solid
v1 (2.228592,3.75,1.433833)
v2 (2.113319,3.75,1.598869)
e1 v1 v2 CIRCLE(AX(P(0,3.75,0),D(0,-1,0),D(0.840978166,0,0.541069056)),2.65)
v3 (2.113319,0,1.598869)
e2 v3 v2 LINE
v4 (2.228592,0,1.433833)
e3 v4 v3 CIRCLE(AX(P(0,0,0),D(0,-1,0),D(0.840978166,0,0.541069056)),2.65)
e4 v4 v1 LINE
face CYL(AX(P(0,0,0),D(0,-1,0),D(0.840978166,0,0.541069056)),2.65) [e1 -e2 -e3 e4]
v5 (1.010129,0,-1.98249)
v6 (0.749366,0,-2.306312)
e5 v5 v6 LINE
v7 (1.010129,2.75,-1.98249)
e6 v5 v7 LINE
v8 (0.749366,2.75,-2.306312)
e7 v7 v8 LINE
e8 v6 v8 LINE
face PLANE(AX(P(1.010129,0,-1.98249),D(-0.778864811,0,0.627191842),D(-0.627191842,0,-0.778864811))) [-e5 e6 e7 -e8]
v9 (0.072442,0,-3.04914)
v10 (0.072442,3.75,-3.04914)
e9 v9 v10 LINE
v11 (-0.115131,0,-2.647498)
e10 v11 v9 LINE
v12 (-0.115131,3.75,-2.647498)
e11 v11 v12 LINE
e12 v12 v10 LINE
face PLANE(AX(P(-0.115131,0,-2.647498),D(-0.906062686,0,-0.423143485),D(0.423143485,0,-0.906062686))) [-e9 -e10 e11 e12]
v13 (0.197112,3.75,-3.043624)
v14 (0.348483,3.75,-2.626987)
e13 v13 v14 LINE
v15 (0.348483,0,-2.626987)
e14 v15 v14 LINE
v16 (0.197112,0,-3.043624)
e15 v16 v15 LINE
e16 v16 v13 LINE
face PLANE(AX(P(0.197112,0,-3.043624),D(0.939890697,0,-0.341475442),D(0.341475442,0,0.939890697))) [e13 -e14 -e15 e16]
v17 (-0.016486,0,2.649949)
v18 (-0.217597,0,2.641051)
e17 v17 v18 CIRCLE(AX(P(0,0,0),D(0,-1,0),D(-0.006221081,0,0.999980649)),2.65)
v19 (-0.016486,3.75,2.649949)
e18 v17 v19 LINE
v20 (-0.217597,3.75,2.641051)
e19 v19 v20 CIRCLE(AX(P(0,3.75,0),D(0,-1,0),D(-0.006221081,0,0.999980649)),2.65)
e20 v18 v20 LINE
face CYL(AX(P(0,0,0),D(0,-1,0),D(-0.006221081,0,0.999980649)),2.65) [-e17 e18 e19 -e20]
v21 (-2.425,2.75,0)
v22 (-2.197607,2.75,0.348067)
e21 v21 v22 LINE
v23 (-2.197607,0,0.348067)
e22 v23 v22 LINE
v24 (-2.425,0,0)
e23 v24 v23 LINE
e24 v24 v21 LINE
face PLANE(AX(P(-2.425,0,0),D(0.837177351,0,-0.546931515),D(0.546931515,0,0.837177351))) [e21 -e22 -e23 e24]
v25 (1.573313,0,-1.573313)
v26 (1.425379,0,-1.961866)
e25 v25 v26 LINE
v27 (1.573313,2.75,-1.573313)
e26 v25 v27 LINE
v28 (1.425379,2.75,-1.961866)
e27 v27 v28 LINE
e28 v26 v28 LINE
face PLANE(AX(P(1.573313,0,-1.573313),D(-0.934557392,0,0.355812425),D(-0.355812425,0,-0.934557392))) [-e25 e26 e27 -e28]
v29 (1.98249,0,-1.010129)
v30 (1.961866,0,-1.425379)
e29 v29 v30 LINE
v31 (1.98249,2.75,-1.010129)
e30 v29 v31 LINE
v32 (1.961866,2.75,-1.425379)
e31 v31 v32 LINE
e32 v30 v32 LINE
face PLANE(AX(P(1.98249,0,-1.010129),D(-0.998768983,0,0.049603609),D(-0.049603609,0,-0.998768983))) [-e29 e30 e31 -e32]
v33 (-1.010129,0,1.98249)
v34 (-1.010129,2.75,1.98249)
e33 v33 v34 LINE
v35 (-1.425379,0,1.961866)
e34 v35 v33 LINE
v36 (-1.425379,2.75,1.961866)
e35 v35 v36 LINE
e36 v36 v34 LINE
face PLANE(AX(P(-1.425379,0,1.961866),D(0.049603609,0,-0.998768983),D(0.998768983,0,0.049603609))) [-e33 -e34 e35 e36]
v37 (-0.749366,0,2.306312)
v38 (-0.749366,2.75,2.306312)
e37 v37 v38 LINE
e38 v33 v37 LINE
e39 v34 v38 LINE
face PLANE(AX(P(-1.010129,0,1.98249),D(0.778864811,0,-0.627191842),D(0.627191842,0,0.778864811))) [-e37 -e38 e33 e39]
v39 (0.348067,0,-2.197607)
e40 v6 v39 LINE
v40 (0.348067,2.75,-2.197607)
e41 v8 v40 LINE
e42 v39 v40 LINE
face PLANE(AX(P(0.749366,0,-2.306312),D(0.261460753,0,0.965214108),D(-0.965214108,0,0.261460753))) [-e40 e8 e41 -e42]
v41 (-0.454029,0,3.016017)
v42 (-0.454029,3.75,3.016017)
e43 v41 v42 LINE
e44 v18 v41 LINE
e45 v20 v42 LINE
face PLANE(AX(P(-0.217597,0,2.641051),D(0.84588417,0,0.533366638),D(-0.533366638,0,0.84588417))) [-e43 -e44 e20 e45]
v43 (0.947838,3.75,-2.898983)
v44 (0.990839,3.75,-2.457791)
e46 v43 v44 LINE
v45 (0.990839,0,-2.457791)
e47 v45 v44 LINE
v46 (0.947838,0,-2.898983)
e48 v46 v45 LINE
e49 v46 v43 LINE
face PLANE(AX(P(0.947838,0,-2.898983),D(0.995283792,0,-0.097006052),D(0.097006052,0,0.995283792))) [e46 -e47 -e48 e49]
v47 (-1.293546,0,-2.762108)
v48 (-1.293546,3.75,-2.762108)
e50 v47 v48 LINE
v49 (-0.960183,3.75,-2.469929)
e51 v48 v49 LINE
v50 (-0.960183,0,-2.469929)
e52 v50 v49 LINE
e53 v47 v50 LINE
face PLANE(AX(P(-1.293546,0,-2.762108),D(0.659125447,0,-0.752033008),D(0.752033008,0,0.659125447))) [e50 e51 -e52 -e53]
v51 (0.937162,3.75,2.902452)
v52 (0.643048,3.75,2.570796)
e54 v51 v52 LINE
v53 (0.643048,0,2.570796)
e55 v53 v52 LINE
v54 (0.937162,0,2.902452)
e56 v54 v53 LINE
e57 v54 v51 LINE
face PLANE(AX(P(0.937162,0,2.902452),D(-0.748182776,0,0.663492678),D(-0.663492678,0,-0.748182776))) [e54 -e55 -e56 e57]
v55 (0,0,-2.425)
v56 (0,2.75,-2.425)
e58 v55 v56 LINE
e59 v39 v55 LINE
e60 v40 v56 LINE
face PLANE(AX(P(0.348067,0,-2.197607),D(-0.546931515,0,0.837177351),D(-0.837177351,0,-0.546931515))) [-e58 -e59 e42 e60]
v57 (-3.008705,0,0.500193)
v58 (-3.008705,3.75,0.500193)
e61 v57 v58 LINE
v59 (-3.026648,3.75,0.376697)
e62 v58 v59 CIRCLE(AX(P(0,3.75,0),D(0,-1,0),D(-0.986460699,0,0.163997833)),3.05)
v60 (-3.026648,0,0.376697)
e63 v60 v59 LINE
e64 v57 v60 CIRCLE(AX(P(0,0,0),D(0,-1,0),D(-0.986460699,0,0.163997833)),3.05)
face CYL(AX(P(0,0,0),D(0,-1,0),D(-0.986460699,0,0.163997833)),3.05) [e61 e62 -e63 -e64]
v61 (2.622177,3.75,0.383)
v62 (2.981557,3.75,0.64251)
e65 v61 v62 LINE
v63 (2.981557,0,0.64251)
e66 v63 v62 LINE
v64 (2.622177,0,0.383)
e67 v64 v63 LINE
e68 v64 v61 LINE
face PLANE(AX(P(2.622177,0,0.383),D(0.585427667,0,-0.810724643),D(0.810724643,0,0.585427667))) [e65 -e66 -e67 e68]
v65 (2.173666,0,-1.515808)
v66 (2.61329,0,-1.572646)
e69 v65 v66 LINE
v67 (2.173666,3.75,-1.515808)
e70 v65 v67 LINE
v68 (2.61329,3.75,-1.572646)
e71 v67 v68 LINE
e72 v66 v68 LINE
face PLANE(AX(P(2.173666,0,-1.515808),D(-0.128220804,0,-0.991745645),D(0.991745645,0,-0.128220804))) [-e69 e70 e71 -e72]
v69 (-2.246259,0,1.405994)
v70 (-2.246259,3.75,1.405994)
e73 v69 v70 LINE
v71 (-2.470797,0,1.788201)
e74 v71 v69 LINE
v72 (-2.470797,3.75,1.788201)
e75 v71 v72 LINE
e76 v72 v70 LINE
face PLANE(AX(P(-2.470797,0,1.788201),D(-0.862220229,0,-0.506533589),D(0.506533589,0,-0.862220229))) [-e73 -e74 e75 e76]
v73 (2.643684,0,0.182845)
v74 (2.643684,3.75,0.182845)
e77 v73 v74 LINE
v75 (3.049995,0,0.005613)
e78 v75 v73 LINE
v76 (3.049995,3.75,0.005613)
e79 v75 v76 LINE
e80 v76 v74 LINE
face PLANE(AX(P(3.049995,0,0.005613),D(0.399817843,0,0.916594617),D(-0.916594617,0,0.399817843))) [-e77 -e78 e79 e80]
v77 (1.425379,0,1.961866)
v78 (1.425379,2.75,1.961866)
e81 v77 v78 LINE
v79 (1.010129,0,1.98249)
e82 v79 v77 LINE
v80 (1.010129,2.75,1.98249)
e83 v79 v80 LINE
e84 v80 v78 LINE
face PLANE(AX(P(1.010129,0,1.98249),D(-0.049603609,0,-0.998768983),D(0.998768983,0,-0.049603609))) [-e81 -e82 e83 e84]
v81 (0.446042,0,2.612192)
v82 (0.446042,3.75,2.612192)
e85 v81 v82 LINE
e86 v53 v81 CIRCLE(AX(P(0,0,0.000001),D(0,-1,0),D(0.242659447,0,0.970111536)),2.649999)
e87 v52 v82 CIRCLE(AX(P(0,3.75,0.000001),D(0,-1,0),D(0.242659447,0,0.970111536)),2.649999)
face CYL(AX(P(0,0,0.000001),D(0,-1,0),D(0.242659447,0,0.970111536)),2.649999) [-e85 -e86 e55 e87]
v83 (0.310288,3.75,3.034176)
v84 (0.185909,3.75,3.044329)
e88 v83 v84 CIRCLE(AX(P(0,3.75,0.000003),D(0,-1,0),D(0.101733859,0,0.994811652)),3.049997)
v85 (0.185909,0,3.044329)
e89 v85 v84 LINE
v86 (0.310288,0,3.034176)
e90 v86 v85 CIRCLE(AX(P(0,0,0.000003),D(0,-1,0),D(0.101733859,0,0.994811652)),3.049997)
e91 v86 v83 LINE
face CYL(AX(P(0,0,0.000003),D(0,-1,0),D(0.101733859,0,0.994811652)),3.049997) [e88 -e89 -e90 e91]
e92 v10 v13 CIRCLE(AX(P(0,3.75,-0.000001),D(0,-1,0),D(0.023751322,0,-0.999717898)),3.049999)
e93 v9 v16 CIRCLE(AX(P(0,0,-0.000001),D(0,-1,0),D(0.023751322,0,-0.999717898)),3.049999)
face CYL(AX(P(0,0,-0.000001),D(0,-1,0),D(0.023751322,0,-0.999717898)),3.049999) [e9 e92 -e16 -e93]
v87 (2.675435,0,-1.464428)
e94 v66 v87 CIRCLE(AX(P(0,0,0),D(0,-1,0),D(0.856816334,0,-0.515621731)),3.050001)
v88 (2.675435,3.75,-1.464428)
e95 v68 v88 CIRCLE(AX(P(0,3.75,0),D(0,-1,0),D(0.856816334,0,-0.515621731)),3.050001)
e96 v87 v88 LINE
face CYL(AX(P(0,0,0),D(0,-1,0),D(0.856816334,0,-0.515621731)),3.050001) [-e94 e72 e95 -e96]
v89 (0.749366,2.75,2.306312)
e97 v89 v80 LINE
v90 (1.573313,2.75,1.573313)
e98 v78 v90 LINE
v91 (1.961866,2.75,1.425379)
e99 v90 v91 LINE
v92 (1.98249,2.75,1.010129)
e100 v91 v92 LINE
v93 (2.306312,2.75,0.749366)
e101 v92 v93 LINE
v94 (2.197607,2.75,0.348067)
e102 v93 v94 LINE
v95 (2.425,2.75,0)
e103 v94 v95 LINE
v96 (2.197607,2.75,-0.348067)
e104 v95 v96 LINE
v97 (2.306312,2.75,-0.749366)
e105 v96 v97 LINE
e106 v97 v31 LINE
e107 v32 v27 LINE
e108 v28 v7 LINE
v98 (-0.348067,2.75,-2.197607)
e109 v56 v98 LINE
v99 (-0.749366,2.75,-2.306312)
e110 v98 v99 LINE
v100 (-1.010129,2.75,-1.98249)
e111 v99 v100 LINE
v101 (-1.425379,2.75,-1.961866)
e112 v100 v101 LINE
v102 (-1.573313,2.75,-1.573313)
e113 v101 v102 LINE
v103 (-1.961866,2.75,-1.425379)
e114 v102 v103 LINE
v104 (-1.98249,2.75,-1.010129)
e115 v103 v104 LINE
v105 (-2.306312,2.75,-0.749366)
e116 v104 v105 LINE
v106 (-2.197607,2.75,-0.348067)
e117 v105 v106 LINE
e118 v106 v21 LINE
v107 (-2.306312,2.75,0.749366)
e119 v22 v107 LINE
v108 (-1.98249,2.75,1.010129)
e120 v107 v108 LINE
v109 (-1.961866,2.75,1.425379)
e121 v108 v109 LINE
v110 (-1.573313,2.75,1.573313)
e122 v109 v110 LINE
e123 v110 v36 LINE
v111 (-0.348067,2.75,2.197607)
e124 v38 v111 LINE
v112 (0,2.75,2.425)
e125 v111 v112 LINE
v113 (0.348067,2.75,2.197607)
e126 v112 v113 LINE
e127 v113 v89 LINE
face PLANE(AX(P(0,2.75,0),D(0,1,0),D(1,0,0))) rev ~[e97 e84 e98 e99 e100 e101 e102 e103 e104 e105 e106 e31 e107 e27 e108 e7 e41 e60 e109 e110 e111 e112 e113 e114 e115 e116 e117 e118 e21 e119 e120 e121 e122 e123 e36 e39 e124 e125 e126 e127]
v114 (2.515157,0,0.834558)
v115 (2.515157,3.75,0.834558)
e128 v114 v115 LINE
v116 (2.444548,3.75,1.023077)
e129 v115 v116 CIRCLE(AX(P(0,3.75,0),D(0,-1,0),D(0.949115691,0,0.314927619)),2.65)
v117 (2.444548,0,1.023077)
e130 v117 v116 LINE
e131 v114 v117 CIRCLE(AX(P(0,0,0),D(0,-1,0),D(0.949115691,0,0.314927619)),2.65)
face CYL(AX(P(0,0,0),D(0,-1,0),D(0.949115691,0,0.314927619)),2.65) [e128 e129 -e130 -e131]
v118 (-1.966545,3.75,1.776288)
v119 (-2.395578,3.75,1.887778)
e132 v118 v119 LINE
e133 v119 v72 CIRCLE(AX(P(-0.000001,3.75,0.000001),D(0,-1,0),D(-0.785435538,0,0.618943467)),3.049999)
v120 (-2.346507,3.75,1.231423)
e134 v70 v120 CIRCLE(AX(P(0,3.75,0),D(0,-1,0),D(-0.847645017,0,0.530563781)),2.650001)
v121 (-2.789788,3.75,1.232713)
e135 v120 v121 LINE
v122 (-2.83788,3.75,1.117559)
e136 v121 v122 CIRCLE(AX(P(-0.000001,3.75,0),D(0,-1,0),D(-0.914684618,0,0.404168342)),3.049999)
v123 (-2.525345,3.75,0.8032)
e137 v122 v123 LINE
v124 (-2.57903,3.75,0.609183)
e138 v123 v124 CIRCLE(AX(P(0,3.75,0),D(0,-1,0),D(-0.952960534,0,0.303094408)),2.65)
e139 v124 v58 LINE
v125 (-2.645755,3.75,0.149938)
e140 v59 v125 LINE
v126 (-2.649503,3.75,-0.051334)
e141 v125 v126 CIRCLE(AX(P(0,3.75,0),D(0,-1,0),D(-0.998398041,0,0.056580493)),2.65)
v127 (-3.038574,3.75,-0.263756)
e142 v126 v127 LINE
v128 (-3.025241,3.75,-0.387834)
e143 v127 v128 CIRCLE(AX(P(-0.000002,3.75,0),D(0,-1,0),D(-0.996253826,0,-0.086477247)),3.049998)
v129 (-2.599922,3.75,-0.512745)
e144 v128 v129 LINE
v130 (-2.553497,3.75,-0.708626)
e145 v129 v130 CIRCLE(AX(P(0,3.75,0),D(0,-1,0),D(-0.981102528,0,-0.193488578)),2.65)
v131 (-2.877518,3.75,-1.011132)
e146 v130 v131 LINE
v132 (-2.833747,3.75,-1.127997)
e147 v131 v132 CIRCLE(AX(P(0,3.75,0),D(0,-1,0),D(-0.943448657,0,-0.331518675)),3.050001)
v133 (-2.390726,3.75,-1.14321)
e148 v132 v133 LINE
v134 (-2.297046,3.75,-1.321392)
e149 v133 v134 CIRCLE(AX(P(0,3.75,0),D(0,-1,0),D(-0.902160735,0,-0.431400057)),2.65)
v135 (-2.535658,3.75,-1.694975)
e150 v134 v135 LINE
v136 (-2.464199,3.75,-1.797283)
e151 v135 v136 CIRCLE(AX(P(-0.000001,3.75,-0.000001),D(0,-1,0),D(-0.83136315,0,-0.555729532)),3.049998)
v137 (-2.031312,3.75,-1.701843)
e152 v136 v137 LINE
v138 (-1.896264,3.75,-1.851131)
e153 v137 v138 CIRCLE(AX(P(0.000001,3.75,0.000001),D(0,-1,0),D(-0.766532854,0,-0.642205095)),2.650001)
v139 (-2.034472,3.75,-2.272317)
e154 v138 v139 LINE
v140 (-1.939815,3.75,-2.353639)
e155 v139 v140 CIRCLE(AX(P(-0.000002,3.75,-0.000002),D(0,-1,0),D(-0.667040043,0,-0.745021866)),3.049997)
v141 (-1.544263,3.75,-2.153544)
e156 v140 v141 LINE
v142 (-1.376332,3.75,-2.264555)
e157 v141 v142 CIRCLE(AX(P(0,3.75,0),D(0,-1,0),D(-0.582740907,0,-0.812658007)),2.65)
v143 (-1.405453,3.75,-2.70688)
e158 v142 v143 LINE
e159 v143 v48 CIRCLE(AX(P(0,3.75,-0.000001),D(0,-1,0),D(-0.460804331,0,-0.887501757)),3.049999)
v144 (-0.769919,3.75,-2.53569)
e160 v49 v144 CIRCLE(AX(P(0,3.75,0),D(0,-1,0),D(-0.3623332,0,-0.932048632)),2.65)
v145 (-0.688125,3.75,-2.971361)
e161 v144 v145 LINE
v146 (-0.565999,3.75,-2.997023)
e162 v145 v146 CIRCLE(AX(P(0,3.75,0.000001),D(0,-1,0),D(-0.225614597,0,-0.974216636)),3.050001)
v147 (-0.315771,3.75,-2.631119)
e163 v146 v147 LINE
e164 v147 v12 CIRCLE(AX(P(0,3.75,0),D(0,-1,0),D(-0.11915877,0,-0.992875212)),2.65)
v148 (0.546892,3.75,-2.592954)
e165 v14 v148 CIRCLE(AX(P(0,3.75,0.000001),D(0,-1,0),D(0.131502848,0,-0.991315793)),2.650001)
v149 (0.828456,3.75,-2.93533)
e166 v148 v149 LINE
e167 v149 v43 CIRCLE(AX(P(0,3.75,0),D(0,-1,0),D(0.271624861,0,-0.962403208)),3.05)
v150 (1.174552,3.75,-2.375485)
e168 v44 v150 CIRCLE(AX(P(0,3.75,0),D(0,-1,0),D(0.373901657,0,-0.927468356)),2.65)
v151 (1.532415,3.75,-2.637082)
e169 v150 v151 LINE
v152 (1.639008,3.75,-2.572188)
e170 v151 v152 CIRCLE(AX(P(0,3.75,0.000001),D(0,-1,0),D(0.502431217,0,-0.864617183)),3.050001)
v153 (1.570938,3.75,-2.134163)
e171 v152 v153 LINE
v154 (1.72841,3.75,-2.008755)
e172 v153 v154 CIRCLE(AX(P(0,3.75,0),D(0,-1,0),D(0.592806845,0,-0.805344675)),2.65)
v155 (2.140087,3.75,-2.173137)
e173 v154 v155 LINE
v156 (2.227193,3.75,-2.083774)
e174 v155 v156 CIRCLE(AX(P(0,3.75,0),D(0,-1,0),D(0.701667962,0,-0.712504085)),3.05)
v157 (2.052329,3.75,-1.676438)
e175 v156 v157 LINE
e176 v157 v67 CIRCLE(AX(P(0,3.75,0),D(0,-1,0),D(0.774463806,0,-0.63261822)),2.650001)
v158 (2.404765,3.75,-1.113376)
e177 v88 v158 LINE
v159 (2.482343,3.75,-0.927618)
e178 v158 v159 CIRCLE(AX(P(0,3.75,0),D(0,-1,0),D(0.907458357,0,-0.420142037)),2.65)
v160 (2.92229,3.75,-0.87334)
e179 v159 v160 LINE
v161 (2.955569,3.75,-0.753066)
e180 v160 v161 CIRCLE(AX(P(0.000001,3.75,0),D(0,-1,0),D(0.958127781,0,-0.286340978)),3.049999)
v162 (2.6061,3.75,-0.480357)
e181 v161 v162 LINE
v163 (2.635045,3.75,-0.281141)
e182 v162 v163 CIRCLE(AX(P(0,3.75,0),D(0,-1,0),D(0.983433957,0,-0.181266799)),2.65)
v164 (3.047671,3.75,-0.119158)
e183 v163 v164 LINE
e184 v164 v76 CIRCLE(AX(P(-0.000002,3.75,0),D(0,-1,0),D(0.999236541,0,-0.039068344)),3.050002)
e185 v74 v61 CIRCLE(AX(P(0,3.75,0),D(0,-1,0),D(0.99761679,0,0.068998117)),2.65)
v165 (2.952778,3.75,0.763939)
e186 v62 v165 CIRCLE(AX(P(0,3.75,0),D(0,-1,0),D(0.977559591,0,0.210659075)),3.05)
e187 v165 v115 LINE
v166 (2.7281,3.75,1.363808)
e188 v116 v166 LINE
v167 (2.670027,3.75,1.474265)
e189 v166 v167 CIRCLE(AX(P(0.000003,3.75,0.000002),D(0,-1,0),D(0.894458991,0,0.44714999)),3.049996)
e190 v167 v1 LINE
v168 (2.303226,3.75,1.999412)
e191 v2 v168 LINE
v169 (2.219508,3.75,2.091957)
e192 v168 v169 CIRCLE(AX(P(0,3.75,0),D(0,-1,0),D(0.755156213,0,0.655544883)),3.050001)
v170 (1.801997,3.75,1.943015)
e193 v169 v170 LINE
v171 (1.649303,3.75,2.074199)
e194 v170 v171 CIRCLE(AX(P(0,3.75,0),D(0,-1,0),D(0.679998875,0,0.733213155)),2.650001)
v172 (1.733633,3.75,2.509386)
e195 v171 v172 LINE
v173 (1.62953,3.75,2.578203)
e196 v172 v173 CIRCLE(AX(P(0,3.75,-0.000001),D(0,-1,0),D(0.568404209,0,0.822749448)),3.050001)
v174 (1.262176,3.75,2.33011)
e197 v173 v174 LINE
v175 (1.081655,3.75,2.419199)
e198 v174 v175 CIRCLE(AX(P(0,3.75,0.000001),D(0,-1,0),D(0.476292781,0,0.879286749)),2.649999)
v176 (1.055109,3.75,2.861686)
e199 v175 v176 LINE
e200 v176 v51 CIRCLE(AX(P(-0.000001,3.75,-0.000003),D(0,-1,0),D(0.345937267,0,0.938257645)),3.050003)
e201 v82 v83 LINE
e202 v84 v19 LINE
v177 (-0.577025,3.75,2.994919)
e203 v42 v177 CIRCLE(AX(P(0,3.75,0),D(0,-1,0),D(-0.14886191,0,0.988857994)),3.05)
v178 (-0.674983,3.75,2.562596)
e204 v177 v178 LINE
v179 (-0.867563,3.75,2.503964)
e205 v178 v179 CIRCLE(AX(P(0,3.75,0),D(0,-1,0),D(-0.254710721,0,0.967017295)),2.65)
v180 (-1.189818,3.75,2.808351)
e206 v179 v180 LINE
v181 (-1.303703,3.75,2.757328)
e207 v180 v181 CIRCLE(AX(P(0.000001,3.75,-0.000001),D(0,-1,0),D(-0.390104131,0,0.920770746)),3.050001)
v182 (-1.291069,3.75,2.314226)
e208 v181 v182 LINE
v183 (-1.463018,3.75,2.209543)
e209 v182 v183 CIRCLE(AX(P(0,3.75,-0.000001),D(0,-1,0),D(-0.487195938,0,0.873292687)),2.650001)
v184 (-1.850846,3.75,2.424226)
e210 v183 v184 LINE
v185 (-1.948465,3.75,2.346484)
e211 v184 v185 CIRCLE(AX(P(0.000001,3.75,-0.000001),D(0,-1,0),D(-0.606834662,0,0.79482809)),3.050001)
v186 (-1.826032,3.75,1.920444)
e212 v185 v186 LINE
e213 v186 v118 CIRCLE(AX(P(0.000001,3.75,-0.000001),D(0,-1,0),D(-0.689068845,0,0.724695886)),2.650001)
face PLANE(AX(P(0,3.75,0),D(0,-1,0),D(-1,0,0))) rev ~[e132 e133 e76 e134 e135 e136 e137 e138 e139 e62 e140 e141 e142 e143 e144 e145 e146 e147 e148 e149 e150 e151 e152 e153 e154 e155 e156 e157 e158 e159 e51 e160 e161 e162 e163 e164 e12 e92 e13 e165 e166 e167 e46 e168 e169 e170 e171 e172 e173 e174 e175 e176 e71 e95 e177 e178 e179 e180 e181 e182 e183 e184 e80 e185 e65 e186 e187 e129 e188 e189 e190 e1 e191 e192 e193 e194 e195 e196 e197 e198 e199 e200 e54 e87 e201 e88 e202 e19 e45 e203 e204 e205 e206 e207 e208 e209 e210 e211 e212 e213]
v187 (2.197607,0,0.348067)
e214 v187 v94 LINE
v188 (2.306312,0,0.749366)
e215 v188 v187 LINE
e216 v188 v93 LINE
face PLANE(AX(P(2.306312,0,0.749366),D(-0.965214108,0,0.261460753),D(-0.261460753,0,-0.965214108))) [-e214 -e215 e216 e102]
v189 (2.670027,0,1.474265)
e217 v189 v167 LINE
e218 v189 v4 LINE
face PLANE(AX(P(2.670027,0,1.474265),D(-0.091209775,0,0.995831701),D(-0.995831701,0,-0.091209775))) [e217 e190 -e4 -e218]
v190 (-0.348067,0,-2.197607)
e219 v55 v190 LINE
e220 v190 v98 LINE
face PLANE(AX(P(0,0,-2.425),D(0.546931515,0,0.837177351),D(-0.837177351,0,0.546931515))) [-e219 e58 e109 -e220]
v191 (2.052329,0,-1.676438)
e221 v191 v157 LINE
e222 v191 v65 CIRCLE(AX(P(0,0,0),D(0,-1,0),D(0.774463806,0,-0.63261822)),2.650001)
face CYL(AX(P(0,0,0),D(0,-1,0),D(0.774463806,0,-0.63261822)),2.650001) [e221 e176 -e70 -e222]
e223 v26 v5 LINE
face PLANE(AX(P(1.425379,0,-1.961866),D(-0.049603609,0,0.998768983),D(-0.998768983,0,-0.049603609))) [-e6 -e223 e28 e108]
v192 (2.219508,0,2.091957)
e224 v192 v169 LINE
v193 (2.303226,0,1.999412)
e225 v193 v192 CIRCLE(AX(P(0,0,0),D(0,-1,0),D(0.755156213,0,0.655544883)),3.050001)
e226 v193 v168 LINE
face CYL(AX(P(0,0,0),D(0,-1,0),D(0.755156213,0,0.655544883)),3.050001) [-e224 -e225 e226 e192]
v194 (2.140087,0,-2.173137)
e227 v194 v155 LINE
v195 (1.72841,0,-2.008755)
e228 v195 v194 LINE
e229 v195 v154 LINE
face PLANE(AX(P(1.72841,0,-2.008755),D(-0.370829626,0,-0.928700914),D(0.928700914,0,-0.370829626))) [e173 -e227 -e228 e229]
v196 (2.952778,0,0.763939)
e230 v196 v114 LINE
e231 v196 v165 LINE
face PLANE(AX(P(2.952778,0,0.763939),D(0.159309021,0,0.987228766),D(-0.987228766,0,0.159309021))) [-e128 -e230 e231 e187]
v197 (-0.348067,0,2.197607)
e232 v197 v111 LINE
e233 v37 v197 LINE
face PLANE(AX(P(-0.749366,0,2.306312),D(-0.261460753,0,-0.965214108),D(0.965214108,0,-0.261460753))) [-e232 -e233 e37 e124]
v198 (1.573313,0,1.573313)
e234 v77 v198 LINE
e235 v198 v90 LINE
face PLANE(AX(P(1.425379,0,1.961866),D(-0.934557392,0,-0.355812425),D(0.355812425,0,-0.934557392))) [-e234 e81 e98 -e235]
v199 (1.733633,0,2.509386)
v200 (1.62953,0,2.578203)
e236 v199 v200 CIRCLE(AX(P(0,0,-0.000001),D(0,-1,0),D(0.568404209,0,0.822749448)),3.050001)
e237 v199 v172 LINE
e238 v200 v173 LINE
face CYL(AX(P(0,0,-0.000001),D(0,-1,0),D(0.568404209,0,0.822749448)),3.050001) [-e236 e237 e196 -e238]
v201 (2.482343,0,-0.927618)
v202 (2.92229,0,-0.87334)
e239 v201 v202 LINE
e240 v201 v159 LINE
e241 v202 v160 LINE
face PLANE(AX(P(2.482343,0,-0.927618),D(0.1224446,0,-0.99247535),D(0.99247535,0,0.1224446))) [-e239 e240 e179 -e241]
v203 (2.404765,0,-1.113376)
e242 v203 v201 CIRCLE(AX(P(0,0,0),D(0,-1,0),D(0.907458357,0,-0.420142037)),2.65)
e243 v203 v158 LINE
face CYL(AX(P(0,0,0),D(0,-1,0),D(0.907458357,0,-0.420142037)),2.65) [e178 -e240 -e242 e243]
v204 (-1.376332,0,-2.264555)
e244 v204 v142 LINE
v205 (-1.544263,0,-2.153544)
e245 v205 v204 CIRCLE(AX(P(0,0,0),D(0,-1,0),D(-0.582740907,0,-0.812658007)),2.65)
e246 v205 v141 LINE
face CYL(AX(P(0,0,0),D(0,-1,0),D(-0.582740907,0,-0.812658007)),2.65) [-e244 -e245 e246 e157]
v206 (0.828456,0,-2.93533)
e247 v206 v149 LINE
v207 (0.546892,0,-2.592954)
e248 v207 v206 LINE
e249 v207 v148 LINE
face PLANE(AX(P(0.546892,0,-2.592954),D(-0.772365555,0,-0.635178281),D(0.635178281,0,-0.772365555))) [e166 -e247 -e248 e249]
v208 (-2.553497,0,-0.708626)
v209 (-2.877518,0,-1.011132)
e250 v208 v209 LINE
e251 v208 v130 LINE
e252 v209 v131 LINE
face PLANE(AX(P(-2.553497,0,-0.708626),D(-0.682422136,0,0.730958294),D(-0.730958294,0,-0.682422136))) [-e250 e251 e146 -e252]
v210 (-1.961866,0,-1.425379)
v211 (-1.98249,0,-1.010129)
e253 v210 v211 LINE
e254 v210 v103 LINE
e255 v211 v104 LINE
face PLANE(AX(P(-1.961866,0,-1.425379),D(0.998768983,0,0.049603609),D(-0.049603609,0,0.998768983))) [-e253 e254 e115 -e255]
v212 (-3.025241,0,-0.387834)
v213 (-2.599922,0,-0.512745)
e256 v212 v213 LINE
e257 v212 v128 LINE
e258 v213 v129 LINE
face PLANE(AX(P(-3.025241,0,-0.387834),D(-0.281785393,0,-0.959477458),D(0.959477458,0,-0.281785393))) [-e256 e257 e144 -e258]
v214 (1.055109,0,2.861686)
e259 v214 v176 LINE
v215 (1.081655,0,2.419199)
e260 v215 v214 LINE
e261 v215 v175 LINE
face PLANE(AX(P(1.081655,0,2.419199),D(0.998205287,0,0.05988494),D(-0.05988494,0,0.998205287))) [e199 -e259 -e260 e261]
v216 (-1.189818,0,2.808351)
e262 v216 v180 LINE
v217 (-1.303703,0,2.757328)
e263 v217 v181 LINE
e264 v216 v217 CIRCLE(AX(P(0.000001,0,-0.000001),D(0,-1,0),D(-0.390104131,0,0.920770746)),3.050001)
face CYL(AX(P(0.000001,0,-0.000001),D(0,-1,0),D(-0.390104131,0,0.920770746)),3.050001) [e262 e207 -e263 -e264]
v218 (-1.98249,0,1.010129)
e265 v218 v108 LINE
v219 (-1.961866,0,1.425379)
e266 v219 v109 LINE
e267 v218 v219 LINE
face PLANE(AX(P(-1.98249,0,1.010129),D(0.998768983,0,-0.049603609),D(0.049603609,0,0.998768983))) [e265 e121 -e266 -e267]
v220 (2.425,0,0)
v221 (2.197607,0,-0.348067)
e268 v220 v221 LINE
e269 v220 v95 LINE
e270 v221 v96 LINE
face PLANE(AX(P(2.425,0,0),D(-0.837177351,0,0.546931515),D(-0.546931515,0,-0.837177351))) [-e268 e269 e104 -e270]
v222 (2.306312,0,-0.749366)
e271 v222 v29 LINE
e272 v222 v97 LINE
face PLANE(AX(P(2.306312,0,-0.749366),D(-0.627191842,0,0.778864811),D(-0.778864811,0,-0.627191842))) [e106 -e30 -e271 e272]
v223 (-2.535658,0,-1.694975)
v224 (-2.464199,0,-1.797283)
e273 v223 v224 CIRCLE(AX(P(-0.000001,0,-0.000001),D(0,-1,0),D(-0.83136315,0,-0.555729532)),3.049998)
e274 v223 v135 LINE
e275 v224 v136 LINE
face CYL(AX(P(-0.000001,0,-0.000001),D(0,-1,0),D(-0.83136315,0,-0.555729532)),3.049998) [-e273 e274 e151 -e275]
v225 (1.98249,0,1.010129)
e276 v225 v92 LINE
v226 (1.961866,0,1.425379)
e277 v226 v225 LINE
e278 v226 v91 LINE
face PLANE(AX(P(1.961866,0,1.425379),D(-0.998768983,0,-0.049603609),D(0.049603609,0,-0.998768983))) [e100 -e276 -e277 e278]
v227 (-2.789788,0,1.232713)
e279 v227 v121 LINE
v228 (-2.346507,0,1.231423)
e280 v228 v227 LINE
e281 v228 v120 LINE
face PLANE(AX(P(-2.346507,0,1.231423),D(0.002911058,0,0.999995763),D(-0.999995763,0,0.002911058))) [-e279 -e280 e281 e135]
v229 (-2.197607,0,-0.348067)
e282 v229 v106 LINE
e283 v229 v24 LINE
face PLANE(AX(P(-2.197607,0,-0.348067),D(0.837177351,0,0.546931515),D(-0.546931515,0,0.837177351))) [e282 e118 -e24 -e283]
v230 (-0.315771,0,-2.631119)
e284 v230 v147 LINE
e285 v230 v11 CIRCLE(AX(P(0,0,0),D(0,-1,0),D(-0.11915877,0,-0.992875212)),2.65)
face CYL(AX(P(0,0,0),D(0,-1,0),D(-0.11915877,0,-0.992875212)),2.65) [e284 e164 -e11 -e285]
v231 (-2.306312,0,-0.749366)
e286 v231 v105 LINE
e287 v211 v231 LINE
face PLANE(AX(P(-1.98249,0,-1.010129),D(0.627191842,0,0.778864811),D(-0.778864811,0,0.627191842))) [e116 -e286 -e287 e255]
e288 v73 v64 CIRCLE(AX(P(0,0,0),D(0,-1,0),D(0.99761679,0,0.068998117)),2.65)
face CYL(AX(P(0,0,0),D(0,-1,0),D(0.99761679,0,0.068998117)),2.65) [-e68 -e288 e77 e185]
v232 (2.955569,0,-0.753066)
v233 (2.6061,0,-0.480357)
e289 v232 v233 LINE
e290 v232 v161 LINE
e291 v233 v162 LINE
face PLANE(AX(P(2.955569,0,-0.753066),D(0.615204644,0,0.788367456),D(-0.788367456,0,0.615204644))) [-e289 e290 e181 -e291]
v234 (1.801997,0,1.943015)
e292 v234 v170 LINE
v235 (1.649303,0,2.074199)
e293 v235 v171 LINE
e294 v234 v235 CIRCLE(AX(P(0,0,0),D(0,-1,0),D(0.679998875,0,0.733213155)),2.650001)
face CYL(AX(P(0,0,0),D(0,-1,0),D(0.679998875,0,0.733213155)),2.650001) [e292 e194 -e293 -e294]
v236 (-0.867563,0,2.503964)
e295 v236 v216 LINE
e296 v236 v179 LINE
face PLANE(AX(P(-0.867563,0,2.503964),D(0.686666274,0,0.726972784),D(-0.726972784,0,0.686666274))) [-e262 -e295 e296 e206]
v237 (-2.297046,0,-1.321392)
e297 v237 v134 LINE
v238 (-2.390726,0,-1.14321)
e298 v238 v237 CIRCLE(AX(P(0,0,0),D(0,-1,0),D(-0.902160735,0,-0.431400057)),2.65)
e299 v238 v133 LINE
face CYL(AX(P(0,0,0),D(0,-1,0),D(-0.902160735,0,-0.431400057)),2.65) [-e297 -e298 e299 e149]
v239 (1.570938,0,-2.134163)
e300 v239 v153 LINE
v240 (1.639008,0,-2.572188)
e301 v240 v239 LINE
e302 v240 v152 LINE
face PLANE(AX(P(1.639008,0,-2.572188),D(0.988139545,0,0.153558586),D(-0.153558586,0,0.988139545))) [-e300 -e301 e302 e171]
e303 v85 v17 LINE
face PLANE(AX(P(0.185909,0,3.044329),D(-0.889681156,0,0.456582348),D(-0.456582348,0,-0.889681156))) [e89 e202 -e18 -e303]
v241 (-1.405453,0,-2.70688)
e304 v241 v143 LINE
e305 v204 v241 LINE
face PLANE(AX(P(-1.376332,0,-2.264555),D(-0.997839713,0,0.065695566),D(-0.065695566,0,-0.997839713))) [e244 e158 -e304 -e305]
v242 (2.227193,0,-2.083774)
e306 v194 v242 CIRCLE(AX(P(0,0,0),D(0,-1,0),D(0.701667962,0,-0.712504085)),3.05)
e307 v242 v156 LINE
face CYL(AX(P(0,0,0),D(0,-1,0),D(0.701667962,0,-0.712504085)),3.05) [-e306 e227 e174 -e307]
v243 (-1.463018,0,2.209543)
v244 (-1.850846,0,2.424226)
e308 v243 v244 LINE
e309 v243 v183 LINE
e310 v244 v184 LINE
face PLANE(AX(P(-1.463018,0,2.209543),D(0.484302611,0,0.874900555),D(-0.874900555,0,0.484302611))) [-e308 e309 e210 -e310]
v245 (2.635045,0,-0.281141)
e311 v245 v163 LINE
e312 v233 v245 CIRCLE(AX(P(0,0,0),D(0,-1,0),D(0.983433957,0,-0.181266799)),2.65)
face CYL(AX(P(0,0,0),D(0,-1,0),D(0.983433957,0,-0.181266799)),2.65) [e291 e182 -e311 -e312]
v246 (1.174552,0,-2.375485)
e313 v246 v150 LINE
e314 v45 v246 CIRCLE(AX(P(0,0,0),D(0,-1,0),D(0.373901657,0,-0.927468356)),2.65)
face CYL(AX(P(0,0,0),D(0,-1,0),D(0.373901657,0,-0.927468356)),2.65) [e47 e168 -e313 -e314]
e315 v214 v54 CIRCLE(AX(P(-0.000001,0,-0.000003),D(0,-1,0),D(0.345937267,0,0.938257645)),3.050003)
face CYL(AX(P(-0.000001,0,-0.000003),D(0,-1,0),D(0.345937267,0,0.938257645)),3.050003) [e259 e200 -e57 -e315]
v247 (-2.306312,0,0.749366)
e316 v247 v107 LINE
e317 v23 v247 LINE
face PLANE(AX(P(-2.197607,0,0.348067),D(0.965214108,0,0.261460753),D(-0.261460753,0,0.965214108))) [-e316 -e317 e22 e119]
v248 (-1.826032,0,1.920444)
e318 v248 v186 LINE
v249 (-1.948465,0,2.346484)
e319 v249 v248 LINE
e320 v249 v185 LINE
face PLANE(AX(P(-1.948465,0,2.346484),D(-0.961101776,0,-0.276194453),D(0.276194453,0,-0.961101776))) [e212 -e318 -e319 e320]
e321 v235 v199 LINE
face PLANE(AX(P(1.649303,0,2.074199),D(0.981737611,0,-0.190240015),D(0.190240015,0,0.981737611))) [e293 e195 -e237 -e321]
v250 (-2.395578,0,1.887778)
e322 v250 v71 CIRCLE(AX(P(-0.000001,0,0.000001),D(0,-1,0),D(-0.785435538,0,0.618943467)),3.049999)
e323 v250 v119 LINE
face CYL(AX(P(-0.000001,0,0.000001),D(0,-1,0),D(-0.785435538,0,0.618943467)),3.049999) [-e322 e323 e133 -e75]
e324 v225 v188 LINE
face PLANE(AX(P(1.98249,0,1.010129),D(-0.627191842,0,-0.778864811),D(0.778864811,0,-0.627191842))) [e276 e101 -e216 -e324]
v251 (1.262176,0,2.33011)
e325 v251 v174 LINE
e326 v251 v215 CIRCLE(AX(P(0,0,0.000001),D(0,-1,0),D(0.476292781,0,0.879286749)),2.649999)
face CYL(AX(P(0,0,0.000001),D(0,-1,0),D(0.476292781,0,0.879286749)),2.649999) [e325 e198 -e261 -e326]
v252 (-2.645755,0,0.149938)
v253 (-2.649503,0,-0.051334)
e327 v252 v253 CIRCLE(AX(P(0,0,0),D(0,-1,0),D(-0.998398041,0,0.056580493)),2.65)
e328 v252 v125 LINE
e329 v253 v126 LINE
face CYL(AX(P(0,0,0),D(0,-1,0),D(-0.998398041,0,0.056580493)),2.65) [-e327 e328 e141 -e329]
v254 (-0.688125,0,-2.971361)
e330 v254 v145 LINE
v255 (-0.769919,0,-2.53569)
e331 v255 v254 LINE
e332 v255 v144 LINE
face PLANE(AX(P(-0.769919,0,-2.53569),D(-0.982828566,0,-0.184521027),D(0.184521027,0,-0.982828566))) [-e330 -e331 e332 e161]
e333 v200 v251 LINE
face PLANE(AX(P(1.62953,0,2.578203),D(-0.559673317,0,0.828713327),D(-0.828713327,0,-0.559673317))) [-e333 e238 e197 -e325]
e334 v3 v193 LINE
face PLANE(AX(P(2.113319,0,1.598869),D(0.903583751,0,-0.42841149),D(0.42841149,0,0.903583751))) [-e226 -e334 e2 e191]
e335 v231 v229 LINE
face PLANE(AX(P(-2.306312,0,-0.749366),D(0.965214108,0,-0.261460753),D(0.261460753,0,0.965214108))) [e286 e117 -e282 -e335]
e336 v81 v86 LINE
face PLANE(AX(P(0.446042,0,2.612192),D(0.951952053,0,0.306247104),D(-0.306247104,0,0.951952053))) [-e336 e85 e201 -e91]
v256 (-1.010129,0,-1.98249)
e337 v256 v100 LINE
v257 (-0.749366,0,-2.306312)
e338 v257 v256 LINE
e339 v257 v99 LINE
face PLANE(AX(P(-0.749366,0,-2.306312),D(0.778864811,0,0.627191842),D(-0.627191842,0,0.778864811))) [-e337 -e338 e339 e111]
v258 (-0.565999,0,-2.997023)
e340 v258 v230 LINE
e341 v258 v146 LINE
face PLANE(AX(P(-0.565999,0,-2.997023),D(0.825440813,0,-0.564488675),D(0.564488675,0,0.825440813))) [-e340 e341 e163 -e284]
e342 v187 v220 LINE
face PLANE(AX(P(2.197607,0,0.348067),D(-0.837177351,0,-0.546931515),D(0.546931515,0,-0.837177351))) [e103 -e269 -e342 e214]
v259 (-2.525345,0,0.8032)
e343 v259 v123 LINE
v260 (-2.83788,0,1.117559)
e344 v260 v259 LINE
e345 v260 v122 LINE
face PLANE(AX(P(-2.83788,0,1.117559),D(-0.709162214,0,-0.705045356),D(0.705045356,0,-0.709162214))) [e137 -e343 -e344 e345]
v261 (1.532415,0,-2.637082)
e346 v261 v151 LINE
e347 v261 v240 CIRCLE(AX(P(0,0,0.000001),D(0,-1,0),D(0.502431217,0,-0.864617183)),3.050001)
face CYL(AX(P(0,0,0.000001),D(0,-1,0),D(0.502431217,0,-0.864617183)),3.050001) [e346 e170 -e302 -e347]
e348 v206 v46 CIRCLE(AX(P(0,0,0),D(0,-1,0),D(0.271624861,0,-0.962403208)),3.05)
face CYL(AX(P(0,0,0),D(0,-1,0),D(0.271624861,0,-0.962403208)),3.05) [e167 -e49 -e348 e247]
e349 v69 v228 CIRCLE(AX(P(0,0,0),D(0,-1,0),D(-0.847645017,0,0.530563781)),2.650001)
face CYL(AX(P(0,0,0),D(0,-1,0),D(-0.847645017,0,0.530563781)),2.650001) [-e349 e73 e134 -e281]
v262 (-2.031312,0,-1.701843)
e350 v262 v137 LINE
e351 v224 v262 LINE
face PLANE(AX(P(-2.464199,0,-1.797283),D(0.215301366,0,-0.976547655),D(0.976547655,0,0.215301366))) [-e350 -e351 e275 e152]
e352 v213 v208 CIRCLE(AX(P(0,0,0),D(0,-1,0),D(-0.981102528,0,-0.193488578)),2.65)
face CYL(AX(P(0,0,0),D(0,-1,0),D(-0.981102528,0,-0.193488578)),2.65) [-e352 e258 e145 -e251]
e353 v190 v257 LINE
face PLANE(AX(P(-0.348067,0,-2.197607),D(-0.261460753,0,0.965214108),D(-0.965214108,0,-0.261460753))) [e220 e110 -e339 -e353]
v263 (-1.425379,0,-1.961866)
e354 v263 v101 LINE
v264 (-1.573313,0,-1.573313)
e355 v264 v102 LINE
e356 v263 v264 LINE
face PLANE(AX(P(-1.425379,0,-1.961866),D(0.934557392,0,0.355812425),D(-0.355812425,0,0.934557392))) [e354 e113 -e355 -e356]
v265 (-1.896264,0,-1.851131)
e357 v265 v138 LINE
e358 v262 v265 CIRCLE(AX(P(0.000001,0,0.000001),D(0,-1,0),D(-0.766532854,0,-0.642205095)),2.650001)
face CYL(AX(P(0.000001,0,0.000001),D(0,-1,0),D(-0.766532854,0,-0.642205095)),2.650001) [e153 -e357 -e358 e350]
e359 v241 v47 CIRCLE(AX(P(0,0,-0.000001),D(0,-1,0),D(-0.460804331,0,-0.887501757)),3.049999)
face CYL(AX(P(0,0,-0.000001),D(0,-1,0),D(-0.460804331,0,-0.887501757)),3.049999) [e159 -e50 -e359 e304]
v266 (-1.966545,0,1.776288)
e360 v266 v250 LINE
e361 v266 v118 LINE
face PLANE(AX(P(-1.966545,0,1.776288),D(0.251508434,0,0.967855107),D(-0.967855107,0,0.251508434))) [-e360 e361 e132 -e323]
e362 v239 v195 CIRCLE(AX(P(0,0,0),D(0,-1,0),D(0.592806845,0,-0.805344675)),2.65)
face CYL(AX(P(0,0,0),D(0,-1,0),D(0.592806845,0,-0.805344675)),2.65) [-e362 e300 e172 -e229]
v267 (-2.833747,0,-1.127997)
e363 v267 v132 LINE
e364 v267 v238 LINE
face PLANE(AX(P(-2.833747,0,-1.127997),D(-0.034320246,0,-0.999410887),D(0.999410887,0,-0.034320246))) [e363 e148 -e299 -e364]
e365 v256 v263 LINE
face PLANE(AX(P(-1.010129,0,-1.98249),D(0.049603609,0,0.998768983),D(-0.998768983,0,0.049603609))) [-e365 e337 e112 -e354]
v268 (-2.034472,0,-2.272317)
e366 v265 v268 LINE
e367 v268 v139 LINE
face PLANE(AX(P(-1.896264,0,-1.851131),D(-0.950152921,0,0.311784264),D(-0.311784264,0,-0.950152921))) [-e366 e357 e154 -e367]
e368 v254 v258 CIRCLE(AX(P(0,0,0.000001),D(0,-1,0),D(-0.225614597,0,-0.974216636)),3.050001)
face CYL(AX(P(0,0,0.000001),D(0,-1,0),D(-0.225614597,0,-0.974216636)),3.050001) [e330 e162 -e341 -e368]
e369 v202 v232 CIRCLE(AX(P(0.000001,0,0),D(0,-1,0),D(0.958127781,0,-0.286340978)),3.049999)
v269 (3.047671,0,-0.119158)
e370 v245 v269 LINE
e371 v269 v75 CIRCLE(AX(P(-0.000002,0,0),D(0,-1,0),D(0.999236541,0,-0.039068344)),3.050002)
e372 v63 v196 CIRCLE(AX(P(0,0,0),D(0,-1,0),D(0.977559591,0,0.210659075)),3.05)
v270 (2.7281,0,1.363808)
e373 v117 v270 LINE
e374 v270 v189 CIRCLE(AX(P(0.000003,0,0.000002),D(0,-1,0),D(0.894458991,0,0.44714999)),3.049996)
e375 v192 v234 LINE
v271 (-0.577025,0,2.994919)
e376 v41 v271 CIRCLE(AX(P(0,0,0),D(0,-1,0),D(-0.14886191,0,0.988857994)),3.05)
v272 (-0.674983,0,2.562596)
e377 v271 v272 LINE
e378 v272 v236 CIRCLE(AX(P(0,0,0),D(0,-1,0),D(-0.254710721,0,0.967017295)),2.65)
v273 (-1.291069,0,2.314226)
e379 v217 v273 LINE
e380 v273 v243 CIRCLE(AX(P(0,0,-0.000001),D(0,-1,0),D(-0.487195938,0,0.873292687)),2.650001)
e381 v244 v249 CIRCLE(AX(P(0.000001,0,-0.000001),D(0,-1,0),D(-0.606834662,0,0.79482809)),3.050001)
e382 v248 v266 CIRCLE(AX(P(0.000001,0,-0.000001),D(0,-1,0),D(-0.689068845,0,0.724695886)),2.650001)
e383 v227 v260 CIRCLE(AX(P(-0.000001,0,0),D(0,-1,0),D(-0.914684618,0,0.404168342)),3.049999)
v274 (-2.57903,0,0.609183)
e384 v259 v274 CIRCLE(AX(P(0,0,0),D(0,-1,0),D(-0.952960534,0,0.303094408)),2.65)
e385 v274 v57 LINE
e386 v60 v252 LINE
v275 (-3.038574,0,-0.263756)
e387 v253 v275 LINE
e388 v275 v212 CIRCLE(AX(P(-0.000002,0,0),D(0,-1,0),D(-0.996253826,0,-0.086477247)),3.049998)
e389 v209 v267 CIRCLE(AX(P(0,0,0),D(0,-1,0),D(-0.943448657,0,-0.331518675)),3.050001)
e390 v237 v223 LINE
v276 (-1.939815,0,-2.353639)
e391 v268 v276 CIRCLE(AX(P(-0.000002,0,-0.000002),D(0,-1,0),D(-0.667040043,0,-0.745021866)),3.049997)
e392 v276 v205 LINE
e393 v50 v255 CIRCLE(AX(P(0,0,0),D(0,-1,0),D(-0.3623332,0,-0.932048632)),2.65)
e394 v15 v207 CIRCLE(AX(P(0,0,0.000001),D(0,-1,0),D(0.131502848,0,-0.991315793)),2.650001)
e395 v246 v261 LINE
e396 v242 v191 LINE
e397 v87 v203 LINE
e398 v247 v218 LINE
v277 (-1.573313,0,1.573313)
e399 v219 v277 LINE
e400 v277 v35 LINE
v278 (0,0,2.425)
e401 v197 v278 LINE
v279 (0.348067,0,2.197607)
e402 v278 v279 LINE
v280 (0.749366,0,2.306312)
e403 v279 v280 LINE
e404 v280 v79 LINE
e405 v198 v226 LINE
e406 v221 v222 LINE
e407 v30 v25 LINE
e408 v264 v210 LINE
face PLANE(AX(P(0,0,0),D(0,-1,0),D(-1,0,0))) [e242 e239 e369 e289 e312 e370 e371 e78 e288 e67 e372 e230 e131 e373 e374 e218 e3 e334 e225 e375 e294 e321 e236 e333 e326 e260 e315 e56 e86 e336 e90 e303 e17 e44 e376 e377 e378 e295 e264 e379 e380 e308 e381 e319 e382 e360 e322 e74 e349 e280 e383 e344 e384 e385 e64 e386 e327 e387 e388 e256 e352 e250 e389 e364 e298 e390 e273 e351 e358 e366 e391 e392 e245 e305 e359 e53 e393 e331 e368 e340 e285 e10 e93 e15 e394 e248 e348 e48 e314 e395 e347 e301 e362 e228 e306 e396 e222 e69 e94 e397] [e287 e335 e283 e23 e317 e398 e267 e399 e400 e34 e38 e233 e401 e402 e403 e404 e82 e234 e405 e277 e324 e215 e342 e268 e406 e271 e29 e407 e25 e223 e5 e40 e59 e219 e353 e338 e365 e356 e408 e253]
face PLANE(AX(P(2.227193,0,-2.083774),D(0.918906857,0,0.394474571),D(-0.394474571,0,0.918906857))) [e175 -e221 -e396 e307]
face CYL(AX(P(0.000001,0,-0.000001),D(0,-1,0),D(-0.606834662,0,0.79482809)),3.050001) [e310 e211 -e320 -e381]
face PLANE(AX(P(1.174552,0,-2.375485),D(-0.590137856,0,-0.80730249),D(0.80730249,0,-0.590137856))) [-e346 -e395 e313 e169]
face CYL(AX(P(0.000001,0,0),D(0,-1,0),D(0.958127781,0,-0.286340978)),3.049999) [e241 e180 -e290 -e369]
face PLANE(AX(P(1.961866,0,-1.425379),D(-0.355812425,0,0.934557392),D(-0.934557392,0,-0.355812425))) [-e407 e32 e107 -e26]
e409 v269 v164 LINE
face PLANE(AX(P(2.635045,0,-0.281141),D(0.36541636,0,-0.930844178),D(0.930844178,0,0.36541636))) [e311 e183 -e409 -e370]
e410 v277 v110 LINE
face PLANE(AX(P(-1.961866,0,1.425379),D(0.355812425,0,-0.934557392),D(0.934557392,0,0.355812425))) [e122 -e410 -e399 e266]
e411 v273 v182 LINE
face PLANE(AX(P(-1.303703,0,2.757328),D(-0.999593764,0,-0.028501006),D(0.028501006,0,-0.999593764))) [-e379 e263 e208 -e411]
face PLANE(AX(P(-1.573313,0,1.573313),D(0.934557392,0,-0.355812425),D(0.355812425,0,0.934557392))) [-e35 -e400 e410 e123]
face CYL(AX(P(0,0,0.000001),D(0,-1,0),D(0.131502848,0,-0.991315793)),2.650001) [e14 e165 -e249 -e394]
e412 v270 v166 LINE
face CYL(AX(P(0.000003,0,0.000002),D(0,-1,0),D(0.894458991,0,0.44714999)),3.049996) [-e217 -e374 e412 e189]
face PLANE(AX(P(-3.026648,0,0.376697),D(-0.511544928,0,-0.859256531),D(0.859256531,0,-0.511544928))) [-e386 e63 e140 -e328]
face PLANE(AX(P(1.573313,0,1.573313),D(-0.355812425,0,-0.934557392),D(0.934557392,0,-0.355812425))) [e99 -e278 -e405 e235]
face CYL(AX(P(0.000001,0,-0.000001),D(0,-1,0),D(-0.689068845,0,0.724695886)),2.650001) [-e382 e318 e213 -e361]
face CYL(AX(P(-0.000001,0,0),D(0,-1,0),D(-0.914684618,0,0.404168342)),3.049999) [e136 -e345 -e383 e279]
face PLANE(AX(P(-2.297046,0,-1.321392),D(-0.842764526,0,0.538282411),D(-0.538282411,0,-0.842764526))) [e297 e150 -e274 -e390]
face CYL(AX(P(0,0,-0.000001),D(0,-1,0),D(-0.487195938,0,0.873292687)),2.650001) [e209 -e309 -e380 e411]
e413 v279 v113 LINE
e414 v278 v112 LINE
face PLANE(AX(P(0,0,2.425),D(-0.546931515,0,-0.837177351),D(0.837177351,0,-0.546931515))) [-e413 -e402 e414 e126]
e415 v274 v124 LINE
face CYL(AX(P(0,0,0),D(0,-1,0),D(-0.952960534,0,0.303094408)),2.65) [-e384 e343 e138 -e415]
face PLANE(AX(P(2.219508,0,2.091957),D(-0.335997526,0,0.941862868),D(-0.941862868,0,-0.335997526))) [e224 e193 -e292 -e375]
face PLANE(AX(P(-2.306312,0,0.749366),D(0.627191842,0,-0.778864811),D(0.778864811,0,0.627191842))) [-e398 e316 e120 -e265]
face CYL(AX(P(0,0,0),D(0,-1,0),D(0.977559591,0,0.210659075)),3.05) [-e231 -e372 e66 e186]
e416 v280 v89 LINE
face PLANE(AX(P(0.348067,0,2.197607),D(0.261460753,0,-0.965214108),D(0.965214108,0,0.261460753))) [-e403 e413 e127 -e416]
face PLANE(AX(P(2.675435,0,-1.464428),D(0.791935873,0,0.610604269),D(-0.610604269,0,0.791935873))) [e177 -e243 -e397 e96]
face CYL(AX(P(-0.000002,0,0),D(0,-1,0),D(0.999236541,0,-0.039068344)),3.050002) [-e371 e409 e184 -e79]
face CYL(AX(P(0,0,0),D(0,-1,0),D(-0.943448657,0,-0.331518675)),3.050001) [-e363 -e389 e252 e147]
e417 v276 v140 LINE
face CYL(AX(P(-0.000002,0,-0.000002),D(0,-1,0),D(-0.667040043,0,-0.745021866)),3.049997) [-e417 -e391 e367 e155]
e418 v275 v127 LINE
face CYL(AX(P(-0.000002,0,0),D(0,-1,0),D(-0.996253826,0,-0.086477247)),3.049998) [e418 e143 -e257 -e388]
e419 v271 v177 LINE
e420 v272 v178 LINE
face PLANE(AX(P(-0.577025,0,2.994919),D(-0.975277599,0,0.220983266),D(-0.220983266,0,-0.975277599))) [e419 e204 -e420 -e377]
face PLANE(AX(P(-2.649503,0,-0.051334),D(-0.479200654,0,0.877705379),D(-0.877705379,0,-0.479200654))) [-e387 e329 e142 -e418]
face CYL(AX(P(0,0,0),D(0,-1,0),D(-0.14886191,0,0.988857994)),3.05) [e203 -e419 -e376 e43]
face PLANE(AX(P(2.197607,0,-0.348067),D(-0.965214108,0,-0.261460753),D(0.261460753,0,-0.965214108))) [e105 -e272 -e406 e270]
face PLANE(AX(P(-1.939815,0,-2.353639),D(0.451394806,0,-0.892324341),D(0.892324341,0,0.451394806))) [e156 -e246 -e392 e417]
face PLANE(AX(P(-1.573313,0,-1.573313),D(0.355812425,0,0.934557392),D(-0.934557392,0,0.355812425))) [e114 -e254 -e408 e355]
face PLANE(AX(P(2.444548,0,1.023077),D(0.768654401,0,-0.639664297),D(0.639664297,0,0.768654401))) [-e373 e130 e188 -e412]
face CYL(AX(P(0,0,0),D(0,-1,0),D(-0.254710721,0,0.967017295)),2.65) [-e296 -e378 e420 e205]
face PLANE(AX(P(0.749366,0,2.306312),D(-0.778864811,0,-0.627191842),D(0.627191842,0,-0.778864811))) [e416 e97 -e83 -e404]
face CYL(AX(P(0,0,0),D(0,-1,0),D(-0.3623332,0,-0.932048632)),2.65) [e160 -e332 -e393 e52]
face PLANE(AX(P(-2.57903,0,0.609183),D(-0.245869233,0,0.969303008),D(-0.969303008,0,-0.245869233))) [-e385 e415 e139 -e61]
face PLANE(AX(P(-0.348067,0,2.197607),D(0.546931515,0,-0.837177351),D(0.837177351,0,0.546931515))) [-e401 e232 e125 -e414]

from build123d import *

# Parameters (mm, degrees)
SKETCH1_R           = 2.65
BOSS_EXTRUDE1_DEPTH = 3.75
CUT_EXTRUDE1_DEPTH  = 2.75
BOSS_EXTRUDE2_START = -3.75
BOSS_EXTRUDE2_DEPTH = 3.75


with BuildPart() as part:
    # Sketch1 → Boss-Extrude1 (new body)
    with BuildSketch(Plane(origin=(0, 0, 0), x_dir=(1, 0, 0), z_dir=(0, 1, 0))):
        with Locations(Location((0, 0, 0), (0, 0, 270))):
            Circle(SKETCH1_R)
    extrude(amount=BOSS_EXTRUDE1_DEPTH)

    # Sketch2 → Cut-Extrude1 (cut)
    with BuildSketch(Plane(origin=(0, 0, 0), x_dir=(-1, 0, 0), z_dir=(0, -1, 0))):
        Polygon((-0.749366211, 2.306312052), (-0.348066685, 2.197606558), (0, 2.425), (0.348066685, 2.197606558), (0.749366211, 2.306312052), (1.010128862, 1.982489516), (1.425379237, 1.961866211), (1.573312588, 1.573312588), (1.961866211, 1.425379237), (1.982489516, 1.010128862), (2.306312052, 0.749366211), (2.197606558, 0.348066685), (2.425, 0), (2.197606558, -0.348066685), (2.306312052, -0.749366211), (1.982489516, -1.010128862), (1.961866211, -1.425379237), (1.573312588, -1.573312588), (1.425379237, -1.961866211), (1.010128862, -1.982489516), (0.749366211, -2.306312052), (0.348066685, -2.197606558), (0, -2.425), (-0.348066685, -2.197606558), (-0.749366211, -2.306312052), (-1.010128862, -1.982489516), (-1.425379237, -1.961866211), (-1.573312588, -1.573312588), (-1.961866211, -1.425379237), (-1.982489516, -1.010128862), (-2.306312052, -0.749366211), (-2.197606558, -0.348066685), (-2.425, 0), (-2.197606558, 0.348066685), (-2.306312052, 0.749366211), (-1.982489516, 1.010128862), (-1.961866211, 1.425379237), (-1.573312588, 1.573312588), (-1.425379237, 1.961866211), (-1.010128862, 1.982489516), align=None)
    extrude(amount=-CUT_EXTRUDE1_DEPTH, mode=Mode.SUBTRACT)

    # Sketch3 → Boss-Extrude2 (add)
    with BuildSketch(Plane(origin=(0, 3.75, 0), x_dir=(1, 0, 0), z_dir=(0, 1, 0)).offset(BOSS_EXTRUDE2_START)):
        with BuildLine():
            Line((-2.649502742, 0.051334382), (-3.038574166, 0.26375564))
            ThreePointArc((-3.038574166, 0.26375564), (-3.03254237, 0.325863125), (-3.02524125, 0.387834215))
            Line((-3.02524125, 0.387834215), (-2.599921696, 0.512744745))
            ThreePointArc((-2.599921696, 0.512744745), (-2.578570239, 0.611126438), (-2.5534974, 0.708626156))
            Line((-2.5534974, 0.708626156), (-2.877518411, 1.011131938))
            ThreePointArc((-2.877518411, 1.011131938), (-2.856230611, 1.069788155), (-2.833747286, 1.127996595))
            Line((-2.833747286, 1.127996595), (-2.390725942, 1.143210159))
            ThreePointArc((-2.390725942, 1.143210159), (-2.345578748, 1.233191119), (-2.297046425, 1.321392342))
            Line((-2.297046425, 1.321392342), (-2.535657591, 1.694975097))
            ThreePointArc((-2.535657591, 1.694975097), (-2.500451378, 1.746494462), (-2.464198558, 1.7972828))
            Line((-2.464198558, 1.7972828), (-2.031312085, 1.701843475))
            ThreePointArc((-2.031312085, 1.701843475), (-1.965205918, 1.777769866), (-1.896263575, 1.851130588))
            Line((-1.896263575, 1.851130588), (-2.034472079, 2.272316738))
            ThreePointArc((-2.034472079, 2.272316738), (-1.98755959, 2.313462098), (-1.939815172, 2.353639118))
            Line((-1.939815172, 2.353639118), (-1.544263419, 2.153543706))
            ThreePointArc((-1.544263419, 2.153543706), (-1.461351973, 2.210644795), (-1.376331511, 2.264555491))
            Line((-1.376331511, 2.264555491), (-1.405453205, 2.706880361))
            ThreePointArc((-1.405453205, 2.706880361), (-1.349782122, 2.735066402), (-1.293546065, 2.762107633))
            Line((-1.293546065, 2.762107633), (-0.960183003, 2.469928866))
            ThreePointArc((-0.960183003, 2.469928866), (-0.865675909, 2.504616781), (-0.769919476, 2.535690044))
            Line((-0.769919476, 2.535690044), (-0.688124536, 2.971360736))
            ThreePointArc((-0.688124536, 2.971360736), (-0.62719288, 2.984816425), (-0.565998701, 2.997022768))
            Line((-0.565998701, 2.997022768), (-0.315770757, 2.631119311))
            ThreePointArc((-0.315770757, 2.631119311), (-0.215606244, 2.641214483), (-0.115130569, 2.647497866))
            Line((-0.115130569, 2.647497866), (0.072441528, 3.049139588))
            ThreePointArc((0.072441528, 3.049139588), (0.134805198, 3.047019455), (0.197112443, 3.043623939))
            Line((0.197112443, 3.043623939), (0.348482526, 2.626986854))
            ThreePointArc((0.348482526, 2.626986854), (0.448010755, 2.611854966), (0.546892416, 2.592953661))
            Line((0.546892416, 2.592953661), (0.828455824, 2.935329785))
            ThreePointArc((0.828455824, 2.935329785), (0.888332969, 2.917767046), (0.947838287, 2.898983025))
            Line((0.947838287, 2.898983025), (0.990839371, 2.457791151))
            ThreePointArc((0.990839371, 2.457791151), (1.08347759, 2.418382995), (1.174552138, 2.37548464))
            Line((1.174552138, 2.37548464), (1.532415194, 2.637082417))
            ThreePointArc((1.532415194, 2.637082417), (1.586043513, 2.605180603), (1.639007966, 2.572188346))
            Line((1.639007966, 2.572188346), (1.570938134, 2.134163391))
            ThreePointArc((1.570938134, 2.134163391), (1.650865543, 2.072955127), (1.72841043, 2.008755183))
            Line((1.72841043, 2.008755183), (2.140087281, 2.173137462))
            ThreePointArc((2.140087281, 2.173137462), (2.184097109, 2.128901082), (2.227192746, 2.083773613))
            Line((2.227192746, 2.083773613), (2.052329077, 1.676438296))
            ThreePointArc((2.052329077, 1.676438296), (2.114523543, 1.597275864), (2.173666338, 1.515808251))
            Line((2.173666338, 1.515808251), (2.613289814, 1.572646288))
            ThreePointArc((2.613289814, 1.572646288), (2.644915852, 1.518854876), (2.675434815, 1.464427721))
            Line((2.675434815, 1.464427721), (2.404764636, 1.113376418))
            ThreePointArc((2.404764636, 1.113376418), (2.445318252, 1.021233884), (2.482342795, 0.927617511))
            Line((2.482342795, 0.927617511), (2.922289737, 0.873339964))
            ThreePointArc((2.922289737, 0.873339964), (2.939544805, 0.813373432), (2.955569475, 0.753066449))
            Line((2.955569475, 0.753066449), (2.606099988, 0.480357004))
            ThreePointArc((2.606099988, 0.480357004), (2.622464622, 0.381024024), (2.635044526, 0.281141151))
            Line((2.635044526, 0.281141151), (3.047671448, 0.119158478))
            ThreePointArc((3.047671448, 0.119158478), (3.049471346, 0.056784744), (3.049994836, -0.005612758))
            Line((3.049994836, -0.005612758), (2.643684494, -0.182845006))
            ThreePointArc((2.643684494, -0.182845006), (2.634831895, -0.283126977), (2.622176718, -0.383000341))
            Line((2.622176718, -0.383000341), (2.981556754, -0.642510173))
            ThreePointArc((2.981556754, -0.642510173), (2.967788388, -0.703371938), (2.952777803, -0.763939294))
            Line((2.952777803, -0.763939294), (2.51515658, -0.834558193))
            ThreePointArc((2.51515658, -0.834558193), (2.48164299, -0.929488069), (2.444547903, -1.023076513))
            Line((2.444547903, -1.023076513), (2.728099883, -1.363807547))
            ThreePointArc((2.728099883, -1.363807547), (2.699628371, -1.419333175), (2.670026882, -1.474264715))
            Line((2.670026882, -1.474264715), (2.228592128, -1.433833019))
            ThreePointArc((2.228592128, -1.433833019), (2.172523329, -1.517446008), (2.113319153, -1.598869025))
            Line((2.113319153, -1.598869025), (2.303226464, -1.999411878))
            ThreePointArc((2.303226464, -1.999411878), (2.261840774, -2.046112488), (2.219508352, -2.091956662))
            Line((2.219508352, -2.091956662), (1.801997037, -1.943014843))
            ThreePointArc((1.801997037, -1.943014843), (1.726896037, -2.010057232), (1.649302788, -2.074198716))
            Line((1.649302788, -2.074198716), (1.733632855, -2.509385806))
            ThreePointArc((1.733632855, -2.509385806), (1.681933403, -2.544327028), (1.629529949, -2.578203278))
            Line((1.629529949, -2.578203278), (1.262175844, -2.330109898))
            ThreePointArc((1.262175844, -2.330109898), (1.172761516, -2.376369169), (1.081654663, -2.419198873))
            Line((1.081654663, -2.419198873), (1.055108718, -2.861685796))
            ThreePointArc((1.055108718, -2.861685796), (0.996343971, -2.882672144), (0.937162187, -2.902451901))
            Line((0.937162187, -2.902451901), (0.643047502, -2.570795579))
            ThreePointArc((0.643047502, -2.570795579), (0.544938076, -2.593365091), (0.446042198, -2.612191868))
            Line((0.446042198, -2.612191868), (0.31028822, -3.034175542))
            ThreePointArc((0.31028822, -3.034175542), (0.248150583, -3.039888368), (0.185909078, -3.044328795))
            Line((0.185909078, -3.044328795), (-0.016485881, -2.649948719))
            ThreePointArc((-0.016485881, -2.649948719), (-0.117125827, -2.647410346), (-0.217596739, -2.641051241))
            Line((-0.217596739, -2.641051241), (-0.454028829, -3.01601688))
            ThreePointArc((-0.454028829, -3.01601688), (-0.515635019, -3.006097225), (-0.577025382, -2.994919316))
            Line((-0.577025382, -2.994919316), (-0.674983394, -2.562595836))
            ThreePointArc((-0.674983394, -2.562595836), (-0.771830284, -2.535109073), (-0.867563272, -2.503963652))
            Line((-0.867563272, -2.503963652), (-1.189817576, -2.808350786))
            ThreePointArc((-1.189817576, -2.808350786), (-1.247021377, -2.783421938), (-1.303703216, -2.757328041))
            Line((-1.303703216, -2.757328041), (-1.291069219, -2.314225631))
            ThreePointArc((-1.291069219, -2.314225631), (-1.378037806, -2.263517573), (-1.463017615, -2.209542817))
            Line((-1.463017615, -2.209542817), (-1.850845709, -2.424225683))
            ThreePointArc((-1.850845709, -2.424225683), (-1.900052795, -2.385854014), (-1.948464581, -2.346483705))
            Line((-1.948464581, -2.346483705), (-1.826032417, -1.920444119))
            ThreePointArc((-1.826032417, -1.920444119), (-1.897658144, -1.84970094), (-1.96654518, -1.776288281))
            Line((-1.96654518, -1.776288281), (-2.395578399, -1.887777565))
            ThreePointArc((-2.395578399, -1.887777565), (-2.433696908, -1.838374108), (-2.470796751, -1.788201167))
            Line((-2.470796751, -1.788201167), (-2.246259282, -1.40599404))
            ThreePointArc((-2.246259282, -1.40599404), (-2.298041642, -1.319660794), (-2.346507479, -1.231423019))
            Line((-2.346507479, -1.231423019), (-2.789788088, -1.23271344))
            ThreePointArc((-2.789788088, -1.23271344), (-2.814422894, -1.175382395), (-2.837879674, -1.117559374))
            Line((-2.837879674, -1.117559374), (-2.525345415, -0.803200184))
            ThreePointArc((-2.525345415, -0.803200184), (-2.554030732, -0.706701507), (-2.579030083, -0.60918292))
            Line((-2.579030083, -0.60918292), (-3.008705131, -0.500193395))
            ThreePointArc((-3.008705131, -0.500193395), (-3.018308338, -0.438537084), (-3.02664818, -0.376697215))
            Line((-3.02664818, -0.376697215), (-2.645754808, -0.149938307))
            ThreePointArc((-2.645754808, -0.149938307), (-2.649540678, -0.049337565), (-2.649502742, 0.051334382))
        make_face()
        Polygon((0.749366211, 2.306312052), (0.348066685, 2.197606558), (0, 2.425), (-0.348066685, 2.197606558), (-0.749366211, 2.306312052), (-1.010128862, 1.982489516), (-1.425379237, 1.961866211), (-1.573312588, 1.573312588), (-1.961866211, 1.425379237), (-1.982489516, 1.010128862), (-2.306312052, 0.749366211), (-2.197606558, 0.348066685), (-2.425, 0), (-2.197606558, -0.348066685), (-2.306312052, -0.749366211), (-1.982489516, -1.010128862), (-1.961866211, -1.425379237), (-1.573312588, -1.573312588), (-1.425379237, -1.961866211), (-1.010128862, -1.982489516), (-0.749366211, -2.306312052), (-0.348066685, -2.197606558), (0, -2.425), (0.348066685, -2.197606558), (0.749366211, -2.306312052), (1.010128862, -1.982489516), (1.425379237, -1.961866211), (1.573312588, -1.573312588), (1.961866211, -1.425379237), (1.982489516, -1.010128862), (2.306312052, -0.749366211), (2.197606558, -0.348066685), (2.425, 0), (2.197606558, 0.348066685), (2.306312052, 0.749366211), (1.982489516, 1.010128862), (1.961866211, 1.425379237), (1.573312588, 1.573312588), (1.425379237, 1.961866211), (1.010128862, 1.982489516), align=None, mode=Mode.SUBTRACT)
    extrude(amount=BOSS_EXTRUDE2_DEPTH)


solid = part.part
